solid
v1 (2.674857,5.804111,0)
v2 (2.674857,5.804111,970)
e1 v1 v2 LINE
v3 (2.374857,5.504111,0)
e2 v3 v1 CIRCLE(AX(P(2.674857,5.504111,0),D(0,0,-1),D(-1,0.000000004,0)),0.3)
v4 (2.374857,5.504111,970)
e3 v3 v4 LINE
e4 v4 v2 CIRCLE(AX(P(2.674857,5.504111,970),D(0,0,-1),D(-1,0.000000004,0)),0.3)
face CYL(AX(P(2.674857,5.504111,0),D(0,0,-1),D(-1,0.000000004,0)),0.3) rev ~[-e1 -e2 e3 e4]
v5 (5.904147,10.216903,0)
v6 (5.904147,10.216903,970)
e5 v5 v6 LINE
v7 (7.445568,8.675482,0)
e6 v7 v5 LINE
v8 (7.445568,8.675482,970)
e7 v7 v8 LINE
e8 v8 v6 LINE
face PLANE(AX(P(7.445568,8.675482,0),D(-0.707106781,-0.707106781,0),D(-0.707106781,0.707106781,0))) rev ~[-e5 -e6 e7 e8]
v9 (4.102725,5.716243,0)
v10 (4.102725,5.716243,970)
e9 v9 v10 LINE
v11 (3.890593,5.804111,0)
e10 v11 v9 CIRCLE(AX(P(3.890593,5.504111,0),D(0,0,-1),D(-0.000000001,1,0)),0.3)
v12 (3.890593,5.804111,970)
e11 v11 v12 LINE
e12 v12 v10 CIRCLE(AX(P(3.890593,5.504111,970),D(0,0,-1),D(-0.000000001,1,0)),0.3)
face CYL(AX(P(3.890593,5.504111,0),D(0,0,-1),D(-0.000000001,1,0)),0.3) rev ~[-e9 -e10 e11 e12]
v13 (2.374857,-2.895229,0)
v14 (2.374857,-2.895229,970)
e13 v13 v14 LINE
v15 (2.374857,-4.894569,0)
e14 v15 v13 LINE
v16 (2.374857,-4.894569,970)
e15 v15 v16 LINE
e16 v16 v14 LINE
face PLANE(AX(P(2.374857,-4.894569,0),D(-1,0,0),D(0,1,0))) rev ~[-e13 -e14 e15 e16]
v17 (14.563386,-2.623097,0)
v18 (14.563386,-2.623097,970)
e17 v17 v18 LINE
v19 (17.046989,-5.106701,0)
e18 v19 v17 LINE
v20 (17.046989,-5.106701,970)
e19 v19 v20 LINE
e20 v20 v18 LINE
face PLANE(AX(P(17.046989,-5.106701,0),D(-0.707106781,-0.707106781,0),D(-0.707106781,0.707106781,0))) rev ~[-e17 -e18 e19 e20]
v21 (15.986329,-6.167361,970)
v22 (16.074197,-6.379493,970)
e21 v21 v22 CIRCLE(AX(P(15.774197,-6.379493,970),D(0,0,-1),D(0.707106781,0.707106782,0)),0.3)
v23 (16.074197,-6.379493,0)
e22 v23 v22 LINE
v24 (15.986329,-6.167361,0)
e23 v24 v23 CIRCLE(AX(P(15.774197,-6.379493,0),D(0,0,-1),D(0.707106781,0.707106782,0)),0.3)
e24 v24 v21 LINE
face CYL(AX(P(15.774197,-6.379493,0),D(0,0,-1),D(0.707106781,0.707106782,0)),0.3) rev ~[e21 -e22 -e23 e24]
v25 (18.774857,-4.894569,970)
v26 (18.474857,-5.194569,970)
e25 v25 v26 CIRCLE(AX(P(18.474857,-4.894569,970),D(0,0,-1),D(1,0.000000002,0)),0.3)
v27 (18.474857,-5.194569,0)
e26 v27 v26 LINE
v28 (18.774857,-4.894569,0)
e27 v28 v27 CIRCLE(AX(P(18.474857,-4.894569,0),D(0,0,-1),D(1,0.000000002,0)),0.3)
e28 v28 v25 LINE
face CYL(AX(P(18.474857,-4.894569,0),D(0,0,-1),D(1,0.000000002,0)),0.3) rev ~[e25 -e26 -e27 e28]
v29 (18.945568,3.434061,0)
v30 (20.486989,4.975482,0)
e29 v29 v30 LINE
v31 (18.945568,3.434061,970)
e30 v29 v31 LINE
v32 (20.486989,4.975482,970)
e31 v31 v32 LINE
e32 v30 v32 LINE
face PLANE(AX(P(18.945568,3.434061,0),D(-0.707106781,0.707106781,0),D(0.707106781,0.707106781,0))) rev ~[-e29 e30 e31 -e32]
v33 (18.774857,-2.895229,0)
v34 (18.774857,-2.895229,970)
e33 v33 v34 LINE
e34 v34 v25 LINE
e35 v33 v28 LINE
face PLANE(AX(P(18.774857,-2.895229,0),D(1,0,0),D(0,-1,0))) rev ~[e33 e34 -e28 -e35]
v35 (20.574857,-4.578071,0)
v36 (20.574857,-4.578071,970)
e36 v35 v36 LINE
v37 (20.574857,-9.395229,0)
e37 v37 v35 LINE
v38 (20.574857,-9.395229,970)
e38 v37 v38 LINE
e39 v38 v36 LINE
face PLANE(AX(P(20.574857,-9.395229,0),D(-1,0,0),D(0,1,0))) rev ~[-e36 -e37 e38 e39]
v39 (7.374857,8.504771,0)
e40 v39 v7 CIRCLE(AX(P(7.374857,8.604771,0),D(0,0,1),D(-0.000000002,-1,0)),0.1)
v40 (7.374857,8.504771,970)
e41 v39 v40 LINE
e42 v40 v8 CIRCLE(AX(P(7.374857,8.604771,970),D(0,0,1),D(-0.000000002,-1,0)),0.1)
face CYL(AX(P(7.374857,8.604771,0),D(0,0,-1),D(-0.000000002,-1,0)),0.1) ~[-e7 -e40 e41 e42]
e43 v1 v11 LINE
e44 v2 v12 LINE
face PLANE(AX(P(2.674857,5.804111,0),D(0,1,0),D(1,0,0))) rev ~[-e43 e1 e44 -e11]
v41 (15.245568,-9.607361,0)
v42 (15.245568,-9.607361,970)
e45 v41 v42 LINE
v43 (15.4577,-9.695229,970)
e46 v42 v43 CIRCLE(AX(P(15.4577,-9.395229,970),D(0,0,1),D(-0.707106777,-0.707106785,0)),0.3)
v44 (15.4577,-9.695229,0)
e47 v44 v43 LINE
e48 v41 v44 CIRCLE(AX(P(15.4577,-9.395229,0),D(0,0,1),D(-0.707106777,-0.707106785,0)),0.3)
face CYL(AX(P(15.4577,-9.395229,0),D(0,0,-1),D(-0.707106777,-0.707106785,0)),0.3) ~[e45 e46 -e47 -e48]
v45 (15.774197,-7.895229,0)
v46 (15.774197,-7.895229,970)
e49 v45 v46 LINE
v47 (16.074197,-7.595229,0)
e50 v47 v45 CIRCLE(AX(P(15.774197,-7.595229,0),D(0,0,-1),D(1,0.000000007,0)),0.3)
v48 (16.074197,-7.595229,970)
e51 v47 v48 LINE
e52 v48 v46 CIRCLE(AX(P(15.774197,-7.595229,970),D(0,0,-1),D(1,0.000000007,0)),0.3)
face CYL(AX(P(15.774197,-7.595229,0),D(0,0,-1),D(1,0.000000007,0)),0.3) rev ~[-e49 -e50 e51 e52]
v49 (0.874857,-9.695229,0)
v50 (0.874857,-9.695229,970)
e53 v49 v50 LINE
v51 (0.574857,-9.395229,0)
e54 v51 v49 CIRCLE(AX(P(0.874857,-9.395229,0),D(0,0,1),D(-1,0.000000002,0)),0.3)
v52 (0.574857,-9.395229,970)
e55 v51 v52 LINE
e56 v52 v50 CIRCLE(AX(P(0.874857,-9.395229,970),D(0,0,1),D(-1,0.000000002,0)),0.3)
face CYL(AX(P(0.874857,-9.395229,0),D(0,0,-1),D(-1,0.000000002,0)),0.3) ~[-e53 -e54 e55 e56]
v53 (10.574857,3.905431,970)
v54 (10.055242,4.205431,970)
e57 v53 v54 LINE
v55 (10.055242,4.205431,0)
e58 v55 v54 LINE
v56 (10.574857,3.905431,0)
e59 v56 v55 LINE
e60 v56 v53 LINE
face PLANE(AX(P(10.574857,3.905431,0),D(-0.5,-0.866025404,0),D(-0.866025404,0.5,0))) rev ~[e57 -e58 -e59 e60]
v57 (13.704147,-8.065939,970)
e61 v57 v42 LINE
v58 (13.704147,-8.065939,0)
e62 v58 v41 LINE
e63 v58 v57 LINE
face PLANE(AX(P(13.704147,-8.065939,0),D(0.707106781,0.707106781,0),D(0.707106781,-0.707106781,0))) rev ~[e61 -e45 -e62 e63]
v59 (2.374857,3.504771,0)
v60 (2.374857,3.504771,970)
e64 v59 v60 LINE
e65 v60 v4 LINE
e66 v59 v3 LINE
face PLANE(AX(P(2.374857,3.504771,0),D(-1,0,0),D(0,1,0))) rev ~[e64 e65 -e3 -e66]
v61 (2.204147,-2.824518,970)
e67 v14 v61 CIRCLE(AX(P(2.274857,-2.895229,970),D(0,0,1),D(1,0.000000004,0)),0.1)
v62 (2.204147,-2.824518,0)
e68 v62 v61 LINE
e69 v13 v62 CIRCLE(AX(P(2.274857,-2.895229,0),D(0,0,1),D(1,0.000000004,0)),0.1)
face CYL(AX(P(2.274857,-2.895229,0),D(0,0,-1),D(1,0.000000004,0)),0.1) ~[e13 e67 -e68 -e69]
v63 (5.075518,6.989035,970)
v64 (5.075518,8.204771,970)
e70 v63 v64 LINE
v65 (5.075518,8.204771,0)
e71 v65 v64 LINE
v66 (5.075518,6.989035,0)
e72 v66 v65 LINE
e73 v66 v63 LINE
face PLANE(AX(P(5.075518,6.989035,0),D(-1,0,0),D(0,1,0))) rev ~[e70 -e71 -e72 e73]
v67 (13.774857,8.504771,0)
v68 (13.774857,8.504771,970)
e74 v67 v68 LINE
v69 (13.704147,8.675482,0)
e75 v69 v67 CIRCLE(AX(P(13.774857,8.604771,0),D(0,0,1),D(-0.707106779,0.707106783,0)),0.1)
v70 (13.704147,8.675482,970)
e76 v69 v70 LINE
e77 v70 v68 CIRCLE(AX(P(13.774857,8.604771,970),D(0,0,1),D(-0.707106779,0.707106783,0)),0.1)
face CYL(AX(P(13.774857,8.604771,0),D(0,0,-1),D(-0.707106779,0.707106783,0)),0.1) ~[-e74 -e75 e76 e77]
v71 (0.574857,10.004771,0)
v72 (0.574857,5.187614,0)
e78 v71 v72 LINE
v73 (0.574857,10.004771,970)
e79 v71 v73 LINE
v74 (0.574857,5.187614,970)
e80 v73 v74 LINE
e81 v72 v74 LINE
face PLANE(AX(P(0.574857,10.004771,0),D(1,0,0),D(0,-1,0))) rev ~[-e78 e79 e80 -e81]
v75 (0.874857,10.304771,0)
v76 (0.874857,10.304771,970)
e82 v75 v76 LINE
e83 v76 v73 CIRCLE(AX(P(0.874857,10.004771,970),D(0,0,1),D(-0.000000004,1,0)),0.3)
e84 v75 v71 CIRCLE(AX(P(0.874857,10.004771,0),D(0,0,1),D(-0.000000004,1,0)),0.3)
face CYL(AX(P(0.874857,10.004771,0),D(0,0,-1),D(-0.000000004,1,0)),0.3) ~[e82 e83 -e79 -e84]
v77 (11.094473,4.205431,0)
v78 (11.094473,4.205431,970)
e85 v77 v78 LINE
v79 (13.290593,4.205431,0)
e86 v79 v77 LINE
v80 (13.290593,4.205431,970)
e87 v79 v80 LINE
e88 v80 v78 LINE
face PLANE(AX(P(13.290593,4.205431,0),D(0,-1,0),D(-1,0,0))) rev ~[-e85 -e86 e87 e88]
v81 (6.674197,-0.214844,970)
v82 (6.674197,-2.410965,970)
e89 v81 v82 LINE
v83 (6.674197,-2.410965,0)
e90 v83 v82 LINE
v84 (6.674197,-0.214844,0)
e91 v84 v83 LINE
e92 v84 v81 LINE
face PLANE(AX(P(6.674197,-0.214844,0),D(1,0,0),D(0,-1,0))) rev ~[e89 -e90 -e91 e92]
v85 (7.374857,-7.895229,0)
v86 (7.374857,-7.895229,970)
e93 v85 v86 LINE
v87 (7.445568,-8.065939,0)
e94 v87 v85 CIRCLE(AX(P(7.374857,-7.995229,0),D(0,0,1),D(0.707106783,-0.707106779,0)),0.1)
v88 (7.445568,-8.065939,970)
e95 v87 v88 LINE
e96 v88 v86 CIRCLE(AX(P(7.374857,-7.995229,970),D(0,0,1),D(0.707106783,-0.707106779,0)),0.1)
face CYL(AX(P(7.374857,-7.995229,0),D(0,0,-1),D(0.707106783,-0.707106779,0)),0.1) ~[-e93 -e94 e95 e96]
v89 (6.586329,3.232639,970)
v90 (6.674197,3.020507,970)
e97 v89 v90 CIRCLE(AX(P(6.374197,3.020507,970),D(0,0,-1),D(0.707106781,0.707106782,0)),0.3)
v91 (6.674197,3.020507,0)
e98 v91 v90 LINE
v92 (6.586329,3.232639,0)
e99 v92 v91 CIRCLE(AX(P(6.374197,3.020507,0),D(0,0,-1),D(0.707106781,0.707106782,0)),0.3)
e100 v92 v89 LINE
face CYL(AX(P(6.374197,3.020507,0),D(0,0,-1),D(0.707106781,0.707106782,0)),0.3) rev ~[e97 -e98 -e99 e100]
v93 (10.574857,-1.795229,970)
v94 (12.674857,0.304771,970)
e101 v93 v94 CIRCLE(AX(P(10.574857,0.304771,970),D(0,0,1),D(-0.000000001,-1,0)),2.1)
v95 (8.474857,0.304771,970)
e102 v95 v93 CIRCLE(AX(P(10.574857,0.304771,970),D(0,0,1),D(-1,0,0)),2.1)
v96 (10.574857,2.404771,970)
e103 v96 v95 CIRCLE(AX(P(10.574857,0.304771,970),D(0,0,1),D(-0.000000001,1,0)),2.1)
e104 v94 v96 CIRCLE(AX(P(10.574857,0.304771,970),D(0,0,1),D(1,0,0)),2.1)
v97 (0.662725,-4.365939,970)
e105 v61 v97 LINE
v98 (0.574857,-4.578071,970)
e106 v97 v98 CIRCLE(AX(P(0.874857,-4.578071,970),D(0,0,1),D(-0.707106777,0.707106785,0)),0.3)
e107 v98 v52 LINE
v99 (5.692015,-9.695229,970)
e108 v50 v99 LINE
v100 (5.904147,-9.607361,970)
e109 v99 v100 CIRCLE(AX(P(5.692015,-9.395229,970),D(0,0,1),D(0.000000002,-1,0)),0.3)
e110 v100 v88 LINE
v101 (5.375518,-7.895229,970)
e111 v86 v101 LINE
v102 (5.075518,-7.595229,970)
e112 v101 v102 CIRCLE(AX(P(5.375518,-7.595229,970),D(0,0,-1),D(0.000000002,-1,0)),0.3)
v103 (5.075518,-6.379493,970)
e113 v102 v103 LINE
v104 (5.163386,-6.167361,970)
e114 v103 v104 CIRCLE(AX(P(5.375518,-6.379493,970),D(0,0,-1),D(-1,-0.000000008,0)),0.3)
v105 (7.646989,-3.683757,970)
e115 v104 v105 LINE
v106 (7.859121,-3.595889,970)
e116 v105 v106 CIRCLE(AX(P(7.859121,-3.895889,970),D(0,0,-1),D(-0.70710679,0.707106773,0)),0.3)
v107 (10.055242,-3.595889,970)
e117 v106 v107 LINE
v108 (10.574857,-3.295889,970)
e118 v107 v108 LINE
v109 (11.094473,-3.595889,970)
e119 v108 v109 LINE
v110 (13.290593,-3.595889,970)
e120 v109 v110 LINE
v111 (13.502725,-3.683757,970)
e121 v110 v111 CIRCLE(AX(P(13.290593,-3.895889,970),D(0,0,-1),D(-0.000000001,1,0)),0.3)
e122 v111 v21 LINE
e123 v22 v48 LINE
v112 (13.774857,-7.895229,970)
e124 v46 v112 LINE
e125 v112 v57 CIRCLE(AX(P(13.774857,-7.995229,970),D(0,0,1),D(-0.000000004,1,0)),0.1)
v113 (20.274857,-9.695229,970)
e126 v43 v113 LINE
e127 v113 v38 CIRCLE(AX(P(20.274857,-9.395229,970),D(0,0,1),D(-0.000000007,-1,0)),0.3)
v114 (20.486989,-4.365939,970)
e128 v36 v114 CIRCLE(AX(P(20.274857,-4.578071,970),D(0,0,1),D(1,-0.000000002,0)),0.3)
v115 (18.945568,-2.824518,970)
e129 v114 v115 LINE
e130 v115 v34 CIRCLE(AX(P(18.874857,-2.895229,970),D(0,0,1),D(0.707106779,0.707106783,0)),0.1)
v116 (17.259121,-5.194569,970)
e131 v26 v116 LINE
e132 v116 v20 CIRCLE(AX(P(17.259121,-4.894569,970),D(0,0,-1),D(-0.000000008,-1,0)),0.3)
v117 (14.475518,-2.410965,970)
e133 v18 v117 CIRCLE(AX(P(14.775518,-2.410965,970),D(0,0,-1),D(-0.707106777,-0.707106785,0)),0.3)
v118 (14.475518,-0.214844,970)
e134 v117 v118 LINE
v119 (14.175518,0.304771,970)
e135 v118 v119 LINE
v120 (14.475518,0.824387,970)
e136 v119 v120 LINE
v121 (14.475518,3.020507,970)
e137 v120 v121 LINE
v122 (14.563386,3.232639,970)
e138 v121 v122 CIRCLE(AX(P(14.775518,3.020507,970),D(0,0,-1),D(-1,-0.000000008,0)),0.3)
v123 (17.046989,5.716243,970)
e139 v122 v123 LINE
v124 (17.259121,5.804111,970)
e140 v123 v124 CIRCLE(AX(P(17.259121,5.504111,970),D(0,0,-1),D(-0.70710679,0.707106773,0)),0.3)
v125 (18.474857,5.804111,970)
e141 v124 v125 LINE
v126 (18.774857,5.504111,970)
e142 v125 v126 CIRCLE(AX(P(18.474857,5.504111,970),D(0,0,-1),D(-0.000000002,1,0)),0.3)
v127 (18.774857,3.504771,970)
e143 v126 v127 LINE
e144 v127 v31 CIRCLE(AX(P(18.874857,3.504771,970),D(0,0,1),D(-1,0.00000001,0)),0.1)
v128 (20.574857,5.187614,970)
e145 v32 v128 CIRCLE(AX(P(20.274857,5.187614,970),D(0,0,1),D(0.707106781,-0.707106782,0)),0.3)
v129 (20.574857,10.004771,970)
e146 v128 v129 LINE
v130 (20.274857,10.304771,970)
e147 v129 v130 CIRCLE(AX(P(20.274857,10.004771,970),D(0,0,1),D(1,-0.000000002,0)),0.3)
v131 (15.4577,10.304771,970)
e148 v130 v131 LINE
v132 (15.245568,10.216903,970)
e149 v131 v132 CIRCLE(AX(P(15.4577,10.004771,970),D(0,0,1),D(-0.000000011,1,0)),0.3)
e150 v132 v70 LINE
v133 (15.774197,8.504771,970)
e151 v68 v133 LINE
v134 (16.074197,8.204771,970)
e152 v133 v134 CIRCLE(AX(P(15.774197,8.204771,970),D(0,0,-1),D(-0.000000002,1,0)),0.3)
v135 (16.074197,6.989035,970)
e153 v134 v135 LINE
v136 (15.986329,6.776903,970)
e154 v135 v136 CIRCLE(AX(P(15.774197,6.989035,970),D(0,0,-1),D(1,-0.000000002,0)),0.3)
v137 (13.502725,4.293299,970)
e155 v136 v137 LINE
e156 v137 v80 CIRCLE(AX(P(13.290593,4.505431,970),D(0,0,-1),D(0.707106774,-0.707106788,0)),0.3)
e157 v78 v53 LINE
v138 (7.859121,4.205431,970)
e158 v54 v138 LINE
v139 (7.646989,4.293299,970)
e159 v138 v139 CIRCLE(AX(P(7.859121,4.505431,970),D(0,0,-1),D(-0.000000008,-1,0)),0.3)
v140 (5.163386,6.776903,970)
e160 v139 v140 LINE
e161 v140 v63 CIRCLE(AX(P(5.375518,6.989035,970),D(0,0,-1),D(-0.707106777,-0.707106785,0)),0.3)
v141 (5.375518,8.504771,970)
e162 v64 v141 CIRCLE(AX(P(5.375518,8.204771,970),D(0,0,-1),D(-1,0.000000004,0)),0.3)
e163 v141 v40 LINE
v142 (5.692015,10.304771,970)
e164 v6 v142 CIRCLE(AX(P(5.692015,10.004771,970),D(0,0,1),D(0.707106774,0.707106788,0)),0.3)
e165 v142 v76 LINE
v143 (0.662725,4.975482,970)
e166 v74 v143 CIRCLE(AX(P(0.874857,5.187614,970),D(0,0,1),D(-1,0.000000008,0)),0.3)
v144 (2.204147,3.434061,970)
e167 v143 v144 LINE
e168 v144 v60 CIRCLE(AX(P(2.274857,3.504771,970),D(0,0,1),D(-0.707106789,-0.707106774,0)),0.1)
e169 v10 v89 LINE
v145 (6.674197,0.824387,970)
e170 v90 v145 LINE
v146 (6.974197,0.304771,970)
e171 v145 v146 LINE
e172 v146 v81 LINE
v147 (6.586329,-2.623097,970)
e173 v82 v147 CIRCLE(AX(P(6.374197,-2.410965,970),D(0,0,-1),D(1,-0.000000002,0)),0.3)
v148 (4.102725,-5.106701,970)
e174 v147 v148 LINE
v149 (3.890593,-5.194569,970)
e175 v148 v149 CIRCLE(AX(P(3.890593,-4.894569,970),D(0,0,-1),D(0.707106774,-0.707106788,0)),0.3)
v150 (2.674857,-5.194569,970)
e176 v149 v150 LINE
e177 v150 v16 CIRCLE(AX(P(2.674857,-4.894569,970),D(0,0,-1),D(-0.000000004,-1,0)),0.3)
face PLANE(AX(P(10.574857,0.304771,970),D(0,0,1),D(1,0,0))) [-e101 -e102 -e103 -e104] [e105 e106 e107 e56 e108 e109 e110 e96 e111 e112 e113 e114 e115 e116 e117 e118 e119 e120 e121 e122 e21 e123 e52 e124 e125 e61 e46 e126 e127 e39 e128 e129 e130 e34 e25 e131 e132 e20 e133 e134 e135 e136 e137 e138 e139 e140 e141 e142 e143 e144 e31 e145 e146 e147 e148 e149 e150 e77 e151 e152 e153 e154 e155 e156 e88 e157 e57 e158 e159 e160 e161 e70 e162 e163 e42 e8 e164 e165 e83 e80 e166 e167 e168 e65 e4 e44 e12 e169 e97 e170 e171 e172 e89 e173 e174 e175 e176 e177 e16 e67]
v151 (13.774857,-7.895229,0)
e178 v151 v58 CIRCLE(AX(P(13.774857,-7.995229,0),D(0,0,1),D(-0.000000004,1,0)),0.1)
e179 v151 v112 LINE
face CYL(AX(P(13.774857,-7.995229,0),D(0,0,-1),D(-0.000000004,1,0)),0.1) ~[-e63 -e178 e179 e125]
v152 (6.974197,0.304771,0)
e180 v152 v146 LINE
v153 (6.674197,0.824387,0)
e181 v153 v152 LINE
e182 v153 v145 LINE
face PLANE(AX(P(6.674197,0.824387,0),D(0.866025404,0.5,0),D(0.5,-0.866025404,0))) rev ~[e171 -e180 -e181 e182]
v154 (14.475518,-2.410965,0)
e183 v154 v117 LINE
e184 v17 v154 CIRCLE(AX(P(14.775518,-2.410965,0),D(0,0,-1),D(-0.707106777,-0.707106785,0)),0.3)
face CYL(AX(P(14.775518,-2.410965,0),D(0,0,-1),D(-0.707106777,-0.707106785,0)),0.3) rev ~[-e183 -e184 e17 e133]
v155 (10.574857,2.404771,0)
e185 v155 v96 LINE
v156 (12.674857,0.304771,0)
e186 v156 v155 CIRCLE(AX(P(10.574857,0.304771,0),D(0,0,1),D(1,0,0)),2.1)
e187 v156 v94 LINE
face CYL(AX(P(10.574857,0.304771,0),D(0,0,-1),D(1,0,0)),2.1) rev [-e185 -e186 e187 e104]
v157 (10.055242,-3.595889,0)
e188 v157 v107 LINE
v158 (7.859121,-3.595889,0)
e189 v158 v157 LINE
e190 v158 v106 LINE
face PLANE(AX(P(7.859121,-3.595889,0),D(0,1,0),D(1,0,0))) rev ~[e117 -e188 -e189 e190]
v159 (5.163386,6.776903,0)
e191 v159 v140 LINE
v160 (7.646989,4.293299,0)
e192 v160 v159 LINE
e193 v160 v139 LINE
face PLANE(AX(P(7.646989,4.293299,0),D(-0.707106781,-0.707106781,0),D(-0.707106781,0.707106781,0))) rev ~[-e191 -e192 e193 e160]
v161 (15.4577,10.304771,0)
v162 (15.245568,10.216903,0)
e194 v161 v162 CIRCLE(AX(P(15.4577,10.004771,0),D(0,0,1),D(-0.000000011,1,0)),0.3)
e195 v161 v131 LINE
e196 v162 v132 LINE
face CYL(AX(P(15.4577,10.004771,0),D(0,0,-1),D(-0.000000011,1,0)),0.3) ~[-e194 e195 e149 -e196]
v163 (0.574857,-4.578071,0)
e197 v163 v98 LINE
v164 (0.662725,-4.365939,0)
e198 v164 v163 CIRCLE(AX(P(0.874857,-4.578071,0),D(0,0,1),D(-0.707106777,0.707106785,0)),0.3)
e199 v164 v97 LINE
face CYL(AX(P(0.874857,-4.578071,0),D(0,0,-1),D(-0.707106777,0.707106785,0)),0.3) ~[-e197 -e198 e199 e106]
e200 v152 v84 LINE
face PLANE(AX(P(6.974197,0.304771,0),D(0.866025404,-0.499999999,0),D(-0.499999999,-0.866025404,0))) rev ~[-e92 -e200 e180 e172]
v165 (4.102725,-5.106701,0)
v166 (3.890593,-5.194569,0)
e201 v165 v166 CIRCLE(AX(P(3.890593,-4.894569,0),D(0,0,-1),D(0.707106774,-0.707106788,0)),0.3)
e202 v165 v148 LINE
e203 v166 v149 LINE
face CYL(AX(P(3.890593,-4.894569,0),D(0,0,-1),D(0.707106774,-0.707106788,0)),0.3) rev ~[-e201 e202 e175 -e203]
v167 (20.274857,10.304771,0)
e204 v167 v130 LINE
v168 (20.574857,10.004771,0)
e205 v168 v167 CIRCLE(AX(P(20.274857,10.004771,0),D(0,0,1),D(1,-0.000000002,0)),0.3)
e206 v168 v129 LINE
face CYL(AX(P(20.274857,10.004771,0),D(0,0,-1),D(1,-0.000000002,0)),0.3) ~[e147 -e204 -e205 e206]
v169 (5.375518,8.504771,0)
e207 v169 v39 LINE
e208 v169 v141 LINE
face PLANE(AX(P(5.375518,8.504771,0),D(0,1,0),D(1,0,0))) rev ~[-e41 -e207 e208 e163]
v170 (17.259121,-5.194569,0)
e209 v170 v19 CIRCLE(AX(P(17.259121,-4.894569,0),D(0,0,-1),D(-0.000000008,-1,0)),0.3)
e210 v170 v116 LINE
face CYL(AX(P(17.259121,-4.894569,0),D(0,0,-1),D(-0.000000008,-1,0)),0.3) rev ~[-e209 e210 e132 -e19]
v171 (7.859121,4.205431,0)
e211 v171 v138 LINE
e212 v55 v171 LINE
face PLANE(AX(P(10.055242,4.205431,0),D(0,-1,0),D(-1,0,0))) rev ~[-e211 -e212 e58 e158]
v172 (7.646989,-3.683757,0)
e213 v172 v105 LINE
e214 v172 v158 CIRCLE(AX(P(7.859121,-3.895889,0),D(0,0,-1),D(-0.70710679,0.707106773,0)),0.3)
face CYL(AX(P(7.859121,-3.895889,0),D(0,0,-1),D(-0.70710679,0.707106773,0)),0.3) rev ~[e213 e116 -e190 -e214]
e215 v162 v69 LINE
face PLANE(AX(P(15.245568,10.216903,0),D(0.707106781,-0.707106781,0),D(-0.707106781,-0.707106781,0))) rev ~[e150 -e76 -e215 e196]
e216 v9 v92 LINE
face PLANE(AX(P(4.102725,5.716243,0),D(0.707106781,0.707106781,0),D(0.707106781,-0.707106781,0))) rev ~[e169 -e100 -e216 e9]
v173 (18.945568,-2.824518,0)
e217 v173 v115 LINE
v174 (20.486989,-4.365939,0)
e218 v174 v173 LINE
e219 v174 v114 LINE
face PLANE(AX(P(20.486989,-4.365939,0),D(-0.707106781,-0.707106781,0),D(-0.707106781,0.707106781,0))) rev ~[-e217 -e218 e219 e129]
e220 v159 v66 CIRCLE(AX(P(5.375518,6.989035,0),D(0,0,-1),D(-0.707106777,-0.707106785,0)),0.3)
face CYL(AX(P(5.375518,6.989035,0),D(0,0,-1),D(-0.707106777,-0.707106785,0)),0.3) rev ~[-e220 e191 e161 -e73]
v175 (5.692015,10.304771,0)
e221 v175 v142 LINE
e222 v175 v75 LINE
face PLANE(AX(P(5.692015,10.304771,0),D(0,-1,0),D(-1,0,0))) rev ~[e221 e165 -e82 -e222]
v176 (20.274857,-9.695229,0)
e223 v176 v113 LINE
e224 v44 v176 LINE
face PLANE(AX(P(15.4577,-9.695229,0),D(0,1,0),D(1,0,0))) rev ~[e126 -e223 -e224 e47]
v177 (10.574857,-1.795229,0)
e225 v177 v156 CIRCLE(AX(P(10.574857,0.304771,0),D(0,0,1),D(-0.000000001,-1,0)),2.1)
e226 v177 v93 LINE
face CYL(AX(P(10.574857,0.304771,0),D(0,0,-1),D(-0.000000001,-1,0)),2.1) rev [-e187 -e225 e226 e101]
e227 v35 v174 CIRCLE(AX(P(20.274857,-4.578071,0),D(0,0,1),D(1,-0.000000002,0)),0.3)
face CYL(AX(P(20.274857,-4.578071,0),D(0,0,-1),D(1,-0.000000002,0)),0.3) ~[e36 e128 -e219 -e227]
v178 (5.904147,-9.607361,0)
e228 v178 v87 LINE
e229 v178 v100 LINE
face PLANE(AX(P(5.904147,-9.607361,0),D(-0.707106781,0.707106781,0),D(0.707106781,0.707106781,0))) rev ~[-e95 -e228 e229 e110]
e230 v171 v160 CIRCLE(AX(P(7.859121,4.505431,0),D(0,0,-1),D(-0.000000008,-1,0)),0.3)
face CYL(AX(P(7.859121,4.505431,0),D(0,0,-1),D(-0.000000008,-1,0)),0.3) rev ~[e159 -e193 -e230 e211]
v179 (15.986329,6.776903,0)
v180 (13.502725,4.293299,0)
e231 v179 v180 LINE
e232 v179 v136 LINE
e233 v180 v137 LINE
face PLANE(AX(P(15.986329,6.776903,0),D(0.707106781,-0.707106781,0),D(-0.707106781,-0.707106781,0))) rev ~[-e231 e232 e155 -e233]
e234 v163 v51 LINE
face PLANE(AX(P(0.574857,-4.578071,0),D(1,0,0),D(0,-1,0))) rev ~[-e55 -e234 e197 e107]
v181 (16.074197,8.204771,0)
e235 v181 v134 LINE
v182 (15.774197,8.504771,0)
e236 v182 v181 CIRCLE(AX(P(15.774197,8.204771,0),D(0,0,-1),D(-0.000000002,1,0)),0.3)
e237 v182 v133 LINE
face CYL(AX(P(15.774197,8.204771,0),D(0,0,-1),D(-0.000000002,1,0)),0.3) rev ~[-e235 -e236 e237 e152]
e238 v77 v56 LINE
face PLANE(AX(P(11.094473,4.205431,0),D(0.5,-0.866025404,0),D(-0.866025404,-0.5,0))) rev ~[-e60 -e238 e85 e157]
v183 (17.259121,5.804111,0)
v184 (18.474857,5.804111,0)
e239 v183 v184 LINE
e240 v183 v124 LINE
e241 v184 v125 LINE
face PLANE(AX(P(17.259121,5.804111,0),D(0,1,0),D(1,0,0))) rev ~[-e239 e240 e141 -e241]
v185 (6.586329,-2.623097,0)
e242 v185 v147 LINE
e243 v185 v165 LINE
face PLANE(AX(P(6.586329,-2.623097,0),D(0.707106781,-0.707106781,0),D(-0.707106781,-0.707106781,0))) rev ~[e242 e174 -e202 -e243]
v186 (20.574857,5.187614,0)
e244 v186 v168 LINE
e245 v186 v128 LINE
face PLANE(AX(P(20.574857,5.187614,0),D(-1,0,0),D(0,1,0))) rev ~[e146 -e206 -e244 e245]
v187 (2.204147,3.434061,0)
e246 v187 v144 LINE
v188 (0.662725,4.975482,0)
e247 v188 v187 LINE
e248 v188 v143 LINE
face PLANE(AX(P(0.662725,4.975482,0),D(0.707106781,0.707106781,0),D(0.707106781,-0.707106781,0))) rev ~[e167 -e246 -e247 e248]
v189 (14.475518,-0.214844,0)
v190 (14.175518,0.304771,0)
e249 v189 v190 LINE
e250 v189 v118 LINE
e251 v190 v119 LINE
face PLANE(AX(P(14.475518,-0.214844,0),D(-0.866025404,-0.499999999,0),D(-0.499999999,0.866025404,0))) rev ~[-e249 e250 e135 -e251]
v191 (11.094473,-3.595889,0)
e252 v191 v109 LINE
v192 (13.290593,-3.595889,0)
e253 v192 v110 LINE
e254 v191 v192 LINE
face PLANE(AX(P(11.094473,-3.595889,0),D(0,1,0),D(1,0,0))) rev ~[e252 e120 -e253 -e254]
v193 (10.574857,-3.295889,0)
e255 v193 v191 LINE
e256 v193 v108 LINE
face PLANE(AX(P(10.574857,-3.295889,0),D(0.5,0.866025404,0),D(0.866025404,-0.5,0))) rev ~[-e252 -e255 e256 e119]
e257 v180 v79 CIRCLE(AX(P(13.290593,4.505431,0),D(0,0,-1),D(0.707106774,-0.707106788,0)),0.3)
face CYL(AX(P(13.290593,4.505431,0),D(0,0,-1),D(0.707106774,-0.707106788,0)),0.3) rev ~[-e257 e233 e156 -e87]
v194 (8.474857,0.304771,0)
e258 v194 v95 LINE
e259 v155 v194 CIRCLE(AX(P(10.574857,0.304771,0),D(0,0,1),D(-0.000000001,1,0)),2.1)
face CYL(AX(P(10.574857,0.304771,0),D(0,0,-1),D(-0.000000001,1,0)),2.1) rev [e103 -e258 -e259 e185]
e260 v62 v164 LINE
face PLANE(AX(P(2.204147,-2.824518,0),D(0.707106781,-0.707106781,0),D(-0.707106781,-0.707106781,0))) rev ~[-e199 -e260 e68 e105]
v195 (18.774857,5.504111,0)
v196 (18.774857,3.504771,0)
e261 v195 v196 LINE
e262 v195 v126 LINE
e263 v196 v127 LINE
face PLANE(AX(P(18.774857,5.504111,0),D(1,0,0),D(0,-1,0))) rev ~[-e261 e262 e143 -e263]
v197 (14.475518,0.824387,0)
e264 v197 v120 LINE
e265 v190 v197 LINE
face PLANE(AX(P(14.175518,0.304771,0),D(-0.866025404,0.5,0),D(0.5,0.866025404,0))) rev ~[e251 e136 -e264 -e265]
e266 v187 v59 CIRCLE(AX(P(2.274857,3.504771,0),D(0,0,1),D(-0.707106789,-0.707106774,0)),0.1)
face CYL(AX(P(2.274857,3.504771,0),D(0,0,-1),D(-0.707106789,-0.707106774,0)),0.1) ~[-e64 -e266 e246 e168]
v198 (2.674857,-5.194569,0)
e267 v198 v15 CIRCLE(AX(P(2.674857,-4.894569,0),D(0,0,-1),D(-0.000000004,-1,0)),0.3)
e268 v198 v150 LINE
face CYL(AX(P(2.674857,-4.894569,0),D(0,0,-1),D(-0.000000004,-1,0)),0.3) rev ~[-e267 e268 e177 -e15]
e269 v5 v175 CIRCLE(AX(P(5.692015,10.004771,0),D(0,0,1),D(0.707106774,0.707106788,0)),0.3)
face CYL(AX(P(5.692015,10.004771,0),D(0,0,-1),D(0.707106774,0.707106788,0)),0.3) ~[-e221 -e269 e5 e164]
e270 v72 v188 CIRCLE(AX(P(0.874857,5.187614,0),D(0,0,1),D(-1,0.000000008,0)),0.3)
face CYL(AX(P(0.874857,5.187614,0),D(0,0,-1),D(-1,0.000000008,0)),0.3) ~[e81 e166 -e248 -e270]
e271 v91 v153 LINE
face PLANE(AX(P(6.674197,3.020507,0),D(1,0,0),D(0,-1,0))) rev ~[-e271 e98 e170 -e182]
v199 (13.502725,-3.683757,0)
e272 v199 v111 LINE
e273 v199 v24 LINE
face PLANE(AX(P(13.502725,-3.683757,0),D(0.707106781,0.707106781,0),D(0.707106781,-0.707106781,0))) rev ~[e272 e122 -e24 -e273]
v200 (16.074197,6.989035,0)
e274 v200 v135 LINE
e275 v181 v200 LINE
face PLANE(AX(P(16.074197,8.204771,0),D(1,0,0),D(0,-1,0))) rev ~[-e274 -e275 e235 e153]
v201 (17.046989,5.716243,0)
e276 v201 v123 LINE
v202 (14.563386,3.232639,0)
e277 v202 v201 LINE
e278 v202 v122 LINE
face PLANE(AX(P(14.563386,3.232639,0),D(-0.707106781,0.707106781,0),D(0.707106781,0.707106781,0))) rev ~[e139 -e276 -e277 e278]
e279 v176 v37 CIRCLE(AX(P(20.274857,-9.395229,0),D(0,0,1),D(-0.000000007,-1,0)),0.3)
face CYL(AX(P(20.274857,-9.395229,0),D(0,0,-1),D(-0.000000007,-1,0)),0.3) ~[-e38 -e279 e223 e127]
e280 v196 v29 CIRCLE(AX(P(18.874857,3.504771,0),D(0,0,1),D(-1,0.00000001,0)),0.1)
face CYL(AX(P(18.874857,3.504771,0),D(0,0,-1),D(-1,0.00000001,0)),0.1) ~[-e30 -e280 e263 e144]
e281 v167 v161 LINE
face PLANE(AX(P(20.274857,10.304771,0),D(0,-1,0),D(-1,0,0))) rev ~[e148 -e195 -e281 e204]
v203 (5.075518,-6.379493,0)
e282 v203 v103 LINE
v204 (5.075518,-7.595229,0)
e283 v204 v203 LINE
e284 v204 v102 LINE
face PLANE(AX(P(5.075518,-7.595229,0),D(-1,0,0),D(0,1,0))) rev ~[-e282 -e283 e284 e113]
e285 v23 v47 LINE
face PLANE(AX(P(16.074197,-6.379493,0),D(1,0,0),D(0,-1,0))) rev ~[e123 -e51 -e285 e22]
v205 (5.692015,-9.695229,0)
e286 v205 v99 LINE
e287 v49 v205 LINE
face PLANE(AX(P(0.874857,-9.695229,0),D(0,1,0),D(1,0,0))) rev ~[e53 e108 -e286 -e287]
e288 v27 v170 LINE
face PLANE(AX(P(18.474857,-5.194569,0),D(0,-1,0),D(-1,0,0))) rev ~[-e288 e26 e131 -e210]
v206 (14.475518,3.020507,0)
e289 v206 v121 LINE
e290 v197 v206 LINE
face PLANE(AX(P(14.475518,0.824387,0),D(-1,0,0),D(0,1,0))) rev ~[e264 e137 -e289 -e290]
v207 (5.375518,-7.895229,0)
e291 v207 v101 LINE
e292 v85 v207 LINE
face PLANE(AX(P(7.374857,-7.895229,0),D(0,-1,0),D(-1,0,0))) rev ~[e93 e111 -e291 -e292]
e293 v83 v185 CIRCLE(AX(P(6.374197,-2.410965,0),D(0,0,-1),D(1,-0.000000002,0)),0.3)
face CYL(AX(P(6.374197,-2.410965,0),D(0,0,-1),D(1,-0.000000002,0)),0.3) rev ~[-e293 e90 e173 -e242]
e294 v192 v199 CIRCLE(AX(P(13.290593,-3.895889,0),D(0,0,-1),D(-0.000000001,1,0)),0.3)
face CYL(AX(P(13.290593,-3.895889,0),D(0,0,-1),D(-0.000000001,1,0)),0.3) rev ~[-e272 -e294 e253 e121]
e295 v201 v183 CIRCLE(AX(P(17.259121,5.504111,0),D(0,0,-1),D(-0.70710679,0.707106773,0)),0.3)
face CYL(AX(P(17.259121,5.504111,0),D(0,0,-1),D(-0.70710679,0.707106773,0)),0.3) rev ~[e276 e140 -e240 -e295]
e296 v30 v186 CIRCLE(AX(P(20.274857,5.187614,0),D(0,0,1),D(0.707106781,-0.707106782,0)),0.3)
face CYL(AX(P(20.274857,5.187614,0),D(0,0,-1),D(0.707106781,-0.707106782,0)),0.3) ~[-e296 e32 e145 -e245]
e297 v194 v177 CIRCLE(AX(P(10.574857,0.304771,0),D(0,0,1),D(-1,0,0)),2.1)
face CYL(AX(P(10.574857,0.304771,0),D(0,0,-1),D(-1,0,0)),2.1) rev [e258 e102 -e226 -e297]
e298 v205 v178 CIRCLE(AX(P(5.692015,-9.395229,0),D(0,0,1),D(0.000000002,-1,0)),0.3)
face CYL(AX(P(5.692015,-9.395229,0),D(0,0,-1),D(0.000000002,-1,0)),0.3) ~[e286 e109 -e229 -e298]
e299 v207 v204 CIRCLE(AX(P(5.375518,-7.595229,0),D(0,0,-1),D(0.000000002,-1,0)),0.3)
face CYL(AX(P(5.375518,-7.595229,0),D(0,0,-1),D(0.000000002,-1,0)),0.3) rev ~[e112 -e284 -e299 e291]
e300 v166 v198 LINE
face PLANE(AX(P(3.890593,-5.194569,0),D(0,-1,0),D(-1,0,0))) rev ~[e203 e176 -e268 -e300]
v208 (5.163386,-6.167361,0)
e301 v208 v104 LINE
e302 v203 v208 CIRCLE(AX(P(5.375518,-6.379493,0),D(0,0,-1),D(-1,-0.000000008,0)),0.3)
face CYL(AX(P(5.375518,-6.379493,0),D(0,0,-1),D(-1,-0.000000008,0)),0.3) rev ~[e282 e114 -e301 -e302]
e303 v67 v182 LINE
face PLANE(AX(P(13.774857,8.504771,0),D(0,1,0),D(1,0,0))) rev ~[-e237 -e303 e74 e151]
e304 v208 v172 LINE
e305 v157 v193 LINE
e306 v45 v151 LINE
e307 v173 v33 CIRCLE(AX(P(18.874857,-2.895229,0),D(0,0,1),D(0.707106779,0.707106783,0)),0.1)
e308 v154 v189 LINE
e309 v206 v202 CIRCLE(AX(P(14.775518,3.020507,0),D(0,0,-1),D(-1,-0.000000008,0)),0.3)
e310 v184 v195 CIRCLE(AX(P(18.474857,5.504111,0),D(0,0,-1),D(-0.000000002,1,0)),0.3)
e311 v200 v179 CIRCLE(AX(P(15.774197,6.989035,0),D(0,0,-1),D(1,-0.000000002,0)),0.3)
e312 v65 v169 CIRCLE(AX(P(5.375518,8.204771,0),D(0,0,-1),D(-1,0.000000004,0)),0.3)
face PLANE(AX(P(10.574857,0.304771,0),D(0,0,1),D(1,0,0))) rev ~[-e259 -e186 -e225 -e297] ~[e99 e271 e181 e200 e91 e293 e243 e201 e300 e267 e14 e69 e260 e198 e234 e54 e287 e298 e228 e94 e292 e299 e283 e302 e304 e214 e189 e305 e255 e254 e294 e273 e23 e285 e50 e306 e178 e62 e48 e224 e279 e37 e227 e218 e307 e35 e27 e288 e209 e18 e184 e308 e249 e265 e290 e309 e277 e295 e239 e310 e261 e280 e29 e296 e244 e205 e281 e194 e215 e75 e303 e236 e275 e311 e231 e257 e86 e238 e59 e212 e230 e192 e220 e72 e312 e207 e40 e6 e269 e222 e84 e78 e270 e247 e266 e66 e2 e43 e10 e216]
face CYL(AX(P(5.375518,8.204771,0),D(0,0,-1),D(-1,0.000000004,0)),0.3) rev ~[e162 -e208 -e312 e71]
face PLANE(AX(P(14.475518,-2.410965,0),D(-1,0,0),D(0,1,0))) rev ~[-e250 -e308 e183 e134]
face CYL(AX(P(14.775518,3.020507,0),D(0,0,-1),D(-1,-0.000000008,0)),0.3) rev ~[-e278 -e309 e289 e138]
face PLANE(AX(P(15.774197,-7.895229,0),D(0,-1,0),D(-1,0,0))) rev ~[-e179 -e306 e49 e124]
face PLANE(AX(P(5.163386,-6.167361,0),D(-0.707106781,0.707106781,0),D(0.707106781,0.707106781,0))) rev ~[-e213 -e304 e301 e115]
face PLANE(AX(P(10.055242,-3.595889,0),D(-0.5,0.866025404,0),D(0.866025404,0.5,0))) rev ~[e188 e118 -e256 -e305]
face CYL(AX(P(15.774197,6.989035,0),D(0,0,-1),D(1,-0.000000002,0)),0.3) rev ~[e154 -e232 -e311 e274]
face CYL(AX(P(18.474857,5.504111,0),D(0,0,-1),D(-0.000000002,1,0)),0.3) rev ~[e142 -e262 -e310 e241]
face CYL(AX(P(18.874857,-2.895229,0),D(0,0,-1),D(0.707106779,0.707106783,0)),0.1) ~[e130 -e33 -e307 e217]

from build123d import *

# Parameters (mm, degrees)
BOSS_EXTRU_1_DEPTH = 970


with BuildPart() as part:
    # Esquisse1 → Boss.-Extru.1 (new body)
    with BuildSketch(Plane.XY):
        with BuildLine():
            Line((18.774857412, -2.895228684), (18.774857412, -4.894568513))
            ThreePointArc((18.774857412, -4.894568513), (18.686989447, -5.106700547), (18.474857412, -5.194568513))
            Line((18.474857412, -5.194568513), (17.259121481, -5.194568513))
            ThreePointArc((17.259121481, -5.194568513), (17.144316451, -5.171732372), (17.046989447, -5.106700547))
            Line((17.046989447, -5.106700547), (14.56338555, -2.62309665))
            ThreePointArc((14.56338555, -2.62309665), (14.498353724, -2.525769645), (14.475517584, -2.410964616))
            Line((14.475517584, -2.410964616), (14.475517584, -0.214843927))
            Line((14.475517584, -0.214843927), (14.175517584, 0.304771316))
            Line((14.175517584, 0.304771316), (14.475517584, 0.824386558))
            Line((14.475517584, 0.824386558), (14.475517584, 3.020507247))
            ThreePointArc((14.475517584, 3.020507247), (14.498353724, 3.135312277), (14.56338555, 3.232639281))
            Line((14.56338555, 3.232639281), (17.046989447, 5.716243178))
            ThreePointArc((17.046989447, 5.716243178), (17.144316451, 5.781275004), (17.259121481, 5.804111144))
            Line((17.259121481, 5.804111144), (18.474857412, 5.804111144))
            ThreePointArc((18.474857412, 5.804111144), (18.686989447, 5.716243178), (18.774857412, 5.504111144))
            Line((18.774857412, 5.504111144), (18.774857412, 3.504771316))
            ThreePointArc((18.774857412, 3.504771316), (18.836589069, 3.412383362), (18.94556809, 3.434060638))
            Line((18.94556809, 3.434060638), (20.486989447, 4.975481994))
            ThreePointArc((20.486989447, 4.975481994), (20.552021272, 5.072808998), (20.574857412, 5.187614028))
            Line((20.574857412, 5.187614028), (20.574857412, 10.004771316))
            ThreePointArc((20.574857412, 10.004771316), (20.486989447, 10.21690335), (20.274857412, 10.304771316))
            Line((20.274857412, 10.304771316), (15.457700125, 10.304771316))
            ThreePointArc((15.457700125, 10.304771316), (15.342895095, 10.281935175), (15.24556809, 10.21690335))
            Line((15.24556809, 10.21690335), (13.704146734, 8.675481994))
            ThreePointArc((13.704146734, 8.675481994), (13.682469459, 8.566502972), (13.774857412, 8.504771316))
            Line((13.774857412, 8.504771316), (15.77419724, 8.504771316))
            ThreePointArc((15.77419724, 8.504771316), (15.986329275, 8.41690335), (16.07419724, 8.204771316))
            Line((16.07419724, 8.204771316), (16.07419724, 6.989035384))
            ThreePointArc((16.07419724, 6.989035384), (16.0513611, 6.874230355), (15.986329275, 6.77690335))
            Line((15.986329275, 6.77690335), (13.502725378, 4.293299453))
            ThreePointArc((13.502725378, 4.293299453), (13.405398373, 4.228267628), (13.290593344, 4.205431487))
            Line((13.290593344, 4.205431487), (11.094472654, 4.205431487))
            Line((11.094472654, 4.205431487), (10.574857412, 3.905431487))
            Line((10.574857412, 3.905431487), (10.05524217, 4.205431487))
            Line((10.05524217, 4.205431487), (7.859121481, 4.205431487))
            ThreePointArc((7.859121481, 4.205431487), (7.744316451, 4.228267628), (7.646989447, 4.293299453))
            Line((7.646989447, 4.293299453), (5.16338555, 6.77690335))
            ThreePointArc((5.16338555, 6.77690335), (5.098353724, 6.874230355), (5.075517584, 6.989035384))
            Line((5.075517584, 6.989035384), (5.075517584, 8.204771316))
            ThreePointArc((5.075517584, 8.204771316), (5.16338555, 8.41690335), (5.375517584, 8.504771316))
            Line((5.375517584, 8.504771316), (7.374857412, 8.504771316))
            ThreePointArc((7.374857412, 8.504771316), (7.467245365, 8.566502972), (7.44556809, 8.675481994))
            Line((7.44556809, 8.675481994), (5.904146734, 10.21690335))
            ThreePointArc((5.904146734, 10.21690335), (5.806819729, 10.281935175), (5.6920147, 10.304771316))
            Line((5.6920147, 10.304771316), (0.874857412, 10.304771316))
            ThreePointArc((0.874857412, 10.304771316), (0.662725378, 10.21690335), (0.574857412, 10.004771316))
            Line((0.574857412, 10.004771316), (0.574857412, 5.187614028))
            ThreePointArc((0.574857412, 5.187614028), (0.597693552, 5.072808998), (0.662725378, 4.975481994))
            Line((0.662725378, 4.975481994), (2.204146734, 3.434060638))
            ThreePointArc((2.204146734, 3.434060638), (2.313125755, 3.412383362), (2.374857412, 3.504771316))
            Line((2.374857412, 3.504771316), (2.374857412, 5.504111144))
            ThreePointArc((2.374857412, 5.504111144), (2.462725378, 5.716243178), (2.674857412, 5.804111144))
            Line((2.674857412, 5.804111144), (3.890593344, 5.804111144))
            ThreePointArc((3.890593344, 5.804111144), (4.005398373, 5.781275004), (4.102725378, 5.716243178))
            Line((4.102725378, 5.716243178), (6.586329275, 3.232639281))
            ThreePointArc((6.586329275, 3.232639281), (6.6513611, 3.135312277), (6.67419724, 3.020507247))
            Line((6.67419724, 3.020507247), (6.67419724, 0.824386558))
            Line((6.67419724, 0.824386558), (6.97419724, 0.304771316))
            Line((6.97419724, 0.304771316), (6.67419724, -0.214843927))
            Line((6.67419724, -0.214843927), (6.67419724, -2.410964616))
            ThreePointArc((6.67419724, -2.410964616), (6.6513611, -2.525769645), (6.586329275, -2.62309665))
            Line((6.586329275, -2.62309665), (4.102725378, -5.106700547))
            ThreePointArc((4.102725378, -5.106700547), (4.005398373, -5.171732372), (3.890593344, -5.194568513))
            Line((3.890593344, -5.194568513), (2.674857412, -5.194568513))
            ThreePointArc((2.674857412, -5.194568513), (2.462725378, -5.106700547), (2.374857412, -4.894568513))
            Line((2.374857412, -4.894568513), (2.374857412, -2.895228684))
            ThreePointArc((2.374857412, -2.895228684), (2.313125755, -2.802840731), (2.204146734, -2.824518006))
            Line((2.204146734, -2.824518006), (0.662725378, -4.365939362))
            ThreePointArc((0.662725378, -4.365939362), (0.597693552, -4.463266367), (0.574857412, -4.578071397))
            Line((0.574857412, -4.578071397), (0.574857412, -9.395228684))
            ThreePointArc((0.574857412, -9.395228684), (0.662725378, -9.607360719), (0.874857412, -9.695228684))
            Line((0.874857412, -9.695228684), (5.6920147, -9.695228684))
            ThreePointArc((5.6920147, -9.695228684), (5.806819729, -9.672392544), (5.904146734, -9.607360719))
            Line((5.904146734, -9.607360719), (7.44556809, -8.065939362))
            ThreePointArc((7.44556809, -8.065939362), (7.467245365, -7.956960341), (7.374857412, -7.895228684))
            Line((7.374857412, -7.895228684), (5.375517584, -7.895228684))
            ThreePointArc((5.375517584, -7.895228684), (5.16338555, -7.807360719), (5.075517584, -7.595228684))
            Line((5.075517584, -7.595228684), (5.075517584, -6.379492753))
            ThreePointArc((5.075517584, -6.379492753), (5.098353724, -6.264687723), (5.16338555, -6.167360719))
            Line((5.16338555, -6.167360719), (7.646989447, -3.683756822))
            ThreePointArc((7.646989447, -3.683756822), (7.744316451, -3.618724996), (7.859121481, -3.595888856))
            Line((7.859121481, -3.595888856), (10.05524217, -3.595888856))
            Line((10.05524217, -3.595888856), (10.574857412, -3.295888856))
            Line((10.574857412, -3.295888856), (11.094472654, -3.595888856))
            Line((11.094472654, -3.595888856), (13.290593344, -3.595888856))
            ThreePointArc((13.290593344, -3.595888856), (13.405398373, -3.618724996), (13.502725378, -3.683756822))
            Line((13.502725378, -3.683756822), (15.986329275, -6.167360719))
            ThreePointArc((15.986329275, -6.167360719), (16.0513611, -6.264687723), (16.07419724, -6.379492753))
            Line((16.07419724, -6.379492753), (16.07419724, -7.595228684))
            ThreePointArc((16.07419724, -7.595228684), (15.986329275, -7.807360719), (15.77419724, -7.895228684))
            Line((15.77419724, -7.895228684), (13.774857412, -7.895228684))
            ThreePointArc((13.774857412, -7.895228684), (13.682469459, -7.956960341), (13.704146734, -8.065939362))
            Line((13.704146734, -8.065939362), (15.24556809, -9.607360719))
            ThreePointArc((15.24556809, -9.607360719), (15.342895095, -9.672392544), (15.457700125, -9.695228684))
            Line((15.457700125, -9.695228684), (20.274857412, -9.695228684))
            ThreePointArc((20.274857412, -9.695228684), (20.486989447, -9.607360719), (20.574857412, -9.395228684))
            Line((20.574857412, -9.395228684), (20.574857412, -4.578071397))
            ThreePointArc((20.574857412, -4.578071397), (20.552021272, -4.463266367), (20.486989447, -4.365939362))
            Line((20.486989447, -4.365939362), (18.94556809, -2.824518006))
            ThreePointArc((18.94556809, -2.824518006), (18.836589069, -2.802840731), (18.774857412, -2.895228684))
        make_face()
        with BuildLine():
            ThreePointArc((10.574857412, -1.795228684), (12.059781653, -1.180152925), (12.674857412, 0.304771316))
            ThreePointArc((12.674857412, 0.304771316), (12.059781653, 1.789695556), (10.574857412, 2.404771316))
            ThreePointArc((10.574857412, 2.404771316), (9.089933172, 1.789695556), (8.474857412, 0.304771316))
            ThreePointArc((8.474857412, 0.304771316), (9.089933172, -1.180152925), (10.574857412, -1.795228684))
        make_face(mode=Mode.SUBTRACT)
    extrude(amount=BOSS_EXTRU_1_DEPTH)


solid = part.part
